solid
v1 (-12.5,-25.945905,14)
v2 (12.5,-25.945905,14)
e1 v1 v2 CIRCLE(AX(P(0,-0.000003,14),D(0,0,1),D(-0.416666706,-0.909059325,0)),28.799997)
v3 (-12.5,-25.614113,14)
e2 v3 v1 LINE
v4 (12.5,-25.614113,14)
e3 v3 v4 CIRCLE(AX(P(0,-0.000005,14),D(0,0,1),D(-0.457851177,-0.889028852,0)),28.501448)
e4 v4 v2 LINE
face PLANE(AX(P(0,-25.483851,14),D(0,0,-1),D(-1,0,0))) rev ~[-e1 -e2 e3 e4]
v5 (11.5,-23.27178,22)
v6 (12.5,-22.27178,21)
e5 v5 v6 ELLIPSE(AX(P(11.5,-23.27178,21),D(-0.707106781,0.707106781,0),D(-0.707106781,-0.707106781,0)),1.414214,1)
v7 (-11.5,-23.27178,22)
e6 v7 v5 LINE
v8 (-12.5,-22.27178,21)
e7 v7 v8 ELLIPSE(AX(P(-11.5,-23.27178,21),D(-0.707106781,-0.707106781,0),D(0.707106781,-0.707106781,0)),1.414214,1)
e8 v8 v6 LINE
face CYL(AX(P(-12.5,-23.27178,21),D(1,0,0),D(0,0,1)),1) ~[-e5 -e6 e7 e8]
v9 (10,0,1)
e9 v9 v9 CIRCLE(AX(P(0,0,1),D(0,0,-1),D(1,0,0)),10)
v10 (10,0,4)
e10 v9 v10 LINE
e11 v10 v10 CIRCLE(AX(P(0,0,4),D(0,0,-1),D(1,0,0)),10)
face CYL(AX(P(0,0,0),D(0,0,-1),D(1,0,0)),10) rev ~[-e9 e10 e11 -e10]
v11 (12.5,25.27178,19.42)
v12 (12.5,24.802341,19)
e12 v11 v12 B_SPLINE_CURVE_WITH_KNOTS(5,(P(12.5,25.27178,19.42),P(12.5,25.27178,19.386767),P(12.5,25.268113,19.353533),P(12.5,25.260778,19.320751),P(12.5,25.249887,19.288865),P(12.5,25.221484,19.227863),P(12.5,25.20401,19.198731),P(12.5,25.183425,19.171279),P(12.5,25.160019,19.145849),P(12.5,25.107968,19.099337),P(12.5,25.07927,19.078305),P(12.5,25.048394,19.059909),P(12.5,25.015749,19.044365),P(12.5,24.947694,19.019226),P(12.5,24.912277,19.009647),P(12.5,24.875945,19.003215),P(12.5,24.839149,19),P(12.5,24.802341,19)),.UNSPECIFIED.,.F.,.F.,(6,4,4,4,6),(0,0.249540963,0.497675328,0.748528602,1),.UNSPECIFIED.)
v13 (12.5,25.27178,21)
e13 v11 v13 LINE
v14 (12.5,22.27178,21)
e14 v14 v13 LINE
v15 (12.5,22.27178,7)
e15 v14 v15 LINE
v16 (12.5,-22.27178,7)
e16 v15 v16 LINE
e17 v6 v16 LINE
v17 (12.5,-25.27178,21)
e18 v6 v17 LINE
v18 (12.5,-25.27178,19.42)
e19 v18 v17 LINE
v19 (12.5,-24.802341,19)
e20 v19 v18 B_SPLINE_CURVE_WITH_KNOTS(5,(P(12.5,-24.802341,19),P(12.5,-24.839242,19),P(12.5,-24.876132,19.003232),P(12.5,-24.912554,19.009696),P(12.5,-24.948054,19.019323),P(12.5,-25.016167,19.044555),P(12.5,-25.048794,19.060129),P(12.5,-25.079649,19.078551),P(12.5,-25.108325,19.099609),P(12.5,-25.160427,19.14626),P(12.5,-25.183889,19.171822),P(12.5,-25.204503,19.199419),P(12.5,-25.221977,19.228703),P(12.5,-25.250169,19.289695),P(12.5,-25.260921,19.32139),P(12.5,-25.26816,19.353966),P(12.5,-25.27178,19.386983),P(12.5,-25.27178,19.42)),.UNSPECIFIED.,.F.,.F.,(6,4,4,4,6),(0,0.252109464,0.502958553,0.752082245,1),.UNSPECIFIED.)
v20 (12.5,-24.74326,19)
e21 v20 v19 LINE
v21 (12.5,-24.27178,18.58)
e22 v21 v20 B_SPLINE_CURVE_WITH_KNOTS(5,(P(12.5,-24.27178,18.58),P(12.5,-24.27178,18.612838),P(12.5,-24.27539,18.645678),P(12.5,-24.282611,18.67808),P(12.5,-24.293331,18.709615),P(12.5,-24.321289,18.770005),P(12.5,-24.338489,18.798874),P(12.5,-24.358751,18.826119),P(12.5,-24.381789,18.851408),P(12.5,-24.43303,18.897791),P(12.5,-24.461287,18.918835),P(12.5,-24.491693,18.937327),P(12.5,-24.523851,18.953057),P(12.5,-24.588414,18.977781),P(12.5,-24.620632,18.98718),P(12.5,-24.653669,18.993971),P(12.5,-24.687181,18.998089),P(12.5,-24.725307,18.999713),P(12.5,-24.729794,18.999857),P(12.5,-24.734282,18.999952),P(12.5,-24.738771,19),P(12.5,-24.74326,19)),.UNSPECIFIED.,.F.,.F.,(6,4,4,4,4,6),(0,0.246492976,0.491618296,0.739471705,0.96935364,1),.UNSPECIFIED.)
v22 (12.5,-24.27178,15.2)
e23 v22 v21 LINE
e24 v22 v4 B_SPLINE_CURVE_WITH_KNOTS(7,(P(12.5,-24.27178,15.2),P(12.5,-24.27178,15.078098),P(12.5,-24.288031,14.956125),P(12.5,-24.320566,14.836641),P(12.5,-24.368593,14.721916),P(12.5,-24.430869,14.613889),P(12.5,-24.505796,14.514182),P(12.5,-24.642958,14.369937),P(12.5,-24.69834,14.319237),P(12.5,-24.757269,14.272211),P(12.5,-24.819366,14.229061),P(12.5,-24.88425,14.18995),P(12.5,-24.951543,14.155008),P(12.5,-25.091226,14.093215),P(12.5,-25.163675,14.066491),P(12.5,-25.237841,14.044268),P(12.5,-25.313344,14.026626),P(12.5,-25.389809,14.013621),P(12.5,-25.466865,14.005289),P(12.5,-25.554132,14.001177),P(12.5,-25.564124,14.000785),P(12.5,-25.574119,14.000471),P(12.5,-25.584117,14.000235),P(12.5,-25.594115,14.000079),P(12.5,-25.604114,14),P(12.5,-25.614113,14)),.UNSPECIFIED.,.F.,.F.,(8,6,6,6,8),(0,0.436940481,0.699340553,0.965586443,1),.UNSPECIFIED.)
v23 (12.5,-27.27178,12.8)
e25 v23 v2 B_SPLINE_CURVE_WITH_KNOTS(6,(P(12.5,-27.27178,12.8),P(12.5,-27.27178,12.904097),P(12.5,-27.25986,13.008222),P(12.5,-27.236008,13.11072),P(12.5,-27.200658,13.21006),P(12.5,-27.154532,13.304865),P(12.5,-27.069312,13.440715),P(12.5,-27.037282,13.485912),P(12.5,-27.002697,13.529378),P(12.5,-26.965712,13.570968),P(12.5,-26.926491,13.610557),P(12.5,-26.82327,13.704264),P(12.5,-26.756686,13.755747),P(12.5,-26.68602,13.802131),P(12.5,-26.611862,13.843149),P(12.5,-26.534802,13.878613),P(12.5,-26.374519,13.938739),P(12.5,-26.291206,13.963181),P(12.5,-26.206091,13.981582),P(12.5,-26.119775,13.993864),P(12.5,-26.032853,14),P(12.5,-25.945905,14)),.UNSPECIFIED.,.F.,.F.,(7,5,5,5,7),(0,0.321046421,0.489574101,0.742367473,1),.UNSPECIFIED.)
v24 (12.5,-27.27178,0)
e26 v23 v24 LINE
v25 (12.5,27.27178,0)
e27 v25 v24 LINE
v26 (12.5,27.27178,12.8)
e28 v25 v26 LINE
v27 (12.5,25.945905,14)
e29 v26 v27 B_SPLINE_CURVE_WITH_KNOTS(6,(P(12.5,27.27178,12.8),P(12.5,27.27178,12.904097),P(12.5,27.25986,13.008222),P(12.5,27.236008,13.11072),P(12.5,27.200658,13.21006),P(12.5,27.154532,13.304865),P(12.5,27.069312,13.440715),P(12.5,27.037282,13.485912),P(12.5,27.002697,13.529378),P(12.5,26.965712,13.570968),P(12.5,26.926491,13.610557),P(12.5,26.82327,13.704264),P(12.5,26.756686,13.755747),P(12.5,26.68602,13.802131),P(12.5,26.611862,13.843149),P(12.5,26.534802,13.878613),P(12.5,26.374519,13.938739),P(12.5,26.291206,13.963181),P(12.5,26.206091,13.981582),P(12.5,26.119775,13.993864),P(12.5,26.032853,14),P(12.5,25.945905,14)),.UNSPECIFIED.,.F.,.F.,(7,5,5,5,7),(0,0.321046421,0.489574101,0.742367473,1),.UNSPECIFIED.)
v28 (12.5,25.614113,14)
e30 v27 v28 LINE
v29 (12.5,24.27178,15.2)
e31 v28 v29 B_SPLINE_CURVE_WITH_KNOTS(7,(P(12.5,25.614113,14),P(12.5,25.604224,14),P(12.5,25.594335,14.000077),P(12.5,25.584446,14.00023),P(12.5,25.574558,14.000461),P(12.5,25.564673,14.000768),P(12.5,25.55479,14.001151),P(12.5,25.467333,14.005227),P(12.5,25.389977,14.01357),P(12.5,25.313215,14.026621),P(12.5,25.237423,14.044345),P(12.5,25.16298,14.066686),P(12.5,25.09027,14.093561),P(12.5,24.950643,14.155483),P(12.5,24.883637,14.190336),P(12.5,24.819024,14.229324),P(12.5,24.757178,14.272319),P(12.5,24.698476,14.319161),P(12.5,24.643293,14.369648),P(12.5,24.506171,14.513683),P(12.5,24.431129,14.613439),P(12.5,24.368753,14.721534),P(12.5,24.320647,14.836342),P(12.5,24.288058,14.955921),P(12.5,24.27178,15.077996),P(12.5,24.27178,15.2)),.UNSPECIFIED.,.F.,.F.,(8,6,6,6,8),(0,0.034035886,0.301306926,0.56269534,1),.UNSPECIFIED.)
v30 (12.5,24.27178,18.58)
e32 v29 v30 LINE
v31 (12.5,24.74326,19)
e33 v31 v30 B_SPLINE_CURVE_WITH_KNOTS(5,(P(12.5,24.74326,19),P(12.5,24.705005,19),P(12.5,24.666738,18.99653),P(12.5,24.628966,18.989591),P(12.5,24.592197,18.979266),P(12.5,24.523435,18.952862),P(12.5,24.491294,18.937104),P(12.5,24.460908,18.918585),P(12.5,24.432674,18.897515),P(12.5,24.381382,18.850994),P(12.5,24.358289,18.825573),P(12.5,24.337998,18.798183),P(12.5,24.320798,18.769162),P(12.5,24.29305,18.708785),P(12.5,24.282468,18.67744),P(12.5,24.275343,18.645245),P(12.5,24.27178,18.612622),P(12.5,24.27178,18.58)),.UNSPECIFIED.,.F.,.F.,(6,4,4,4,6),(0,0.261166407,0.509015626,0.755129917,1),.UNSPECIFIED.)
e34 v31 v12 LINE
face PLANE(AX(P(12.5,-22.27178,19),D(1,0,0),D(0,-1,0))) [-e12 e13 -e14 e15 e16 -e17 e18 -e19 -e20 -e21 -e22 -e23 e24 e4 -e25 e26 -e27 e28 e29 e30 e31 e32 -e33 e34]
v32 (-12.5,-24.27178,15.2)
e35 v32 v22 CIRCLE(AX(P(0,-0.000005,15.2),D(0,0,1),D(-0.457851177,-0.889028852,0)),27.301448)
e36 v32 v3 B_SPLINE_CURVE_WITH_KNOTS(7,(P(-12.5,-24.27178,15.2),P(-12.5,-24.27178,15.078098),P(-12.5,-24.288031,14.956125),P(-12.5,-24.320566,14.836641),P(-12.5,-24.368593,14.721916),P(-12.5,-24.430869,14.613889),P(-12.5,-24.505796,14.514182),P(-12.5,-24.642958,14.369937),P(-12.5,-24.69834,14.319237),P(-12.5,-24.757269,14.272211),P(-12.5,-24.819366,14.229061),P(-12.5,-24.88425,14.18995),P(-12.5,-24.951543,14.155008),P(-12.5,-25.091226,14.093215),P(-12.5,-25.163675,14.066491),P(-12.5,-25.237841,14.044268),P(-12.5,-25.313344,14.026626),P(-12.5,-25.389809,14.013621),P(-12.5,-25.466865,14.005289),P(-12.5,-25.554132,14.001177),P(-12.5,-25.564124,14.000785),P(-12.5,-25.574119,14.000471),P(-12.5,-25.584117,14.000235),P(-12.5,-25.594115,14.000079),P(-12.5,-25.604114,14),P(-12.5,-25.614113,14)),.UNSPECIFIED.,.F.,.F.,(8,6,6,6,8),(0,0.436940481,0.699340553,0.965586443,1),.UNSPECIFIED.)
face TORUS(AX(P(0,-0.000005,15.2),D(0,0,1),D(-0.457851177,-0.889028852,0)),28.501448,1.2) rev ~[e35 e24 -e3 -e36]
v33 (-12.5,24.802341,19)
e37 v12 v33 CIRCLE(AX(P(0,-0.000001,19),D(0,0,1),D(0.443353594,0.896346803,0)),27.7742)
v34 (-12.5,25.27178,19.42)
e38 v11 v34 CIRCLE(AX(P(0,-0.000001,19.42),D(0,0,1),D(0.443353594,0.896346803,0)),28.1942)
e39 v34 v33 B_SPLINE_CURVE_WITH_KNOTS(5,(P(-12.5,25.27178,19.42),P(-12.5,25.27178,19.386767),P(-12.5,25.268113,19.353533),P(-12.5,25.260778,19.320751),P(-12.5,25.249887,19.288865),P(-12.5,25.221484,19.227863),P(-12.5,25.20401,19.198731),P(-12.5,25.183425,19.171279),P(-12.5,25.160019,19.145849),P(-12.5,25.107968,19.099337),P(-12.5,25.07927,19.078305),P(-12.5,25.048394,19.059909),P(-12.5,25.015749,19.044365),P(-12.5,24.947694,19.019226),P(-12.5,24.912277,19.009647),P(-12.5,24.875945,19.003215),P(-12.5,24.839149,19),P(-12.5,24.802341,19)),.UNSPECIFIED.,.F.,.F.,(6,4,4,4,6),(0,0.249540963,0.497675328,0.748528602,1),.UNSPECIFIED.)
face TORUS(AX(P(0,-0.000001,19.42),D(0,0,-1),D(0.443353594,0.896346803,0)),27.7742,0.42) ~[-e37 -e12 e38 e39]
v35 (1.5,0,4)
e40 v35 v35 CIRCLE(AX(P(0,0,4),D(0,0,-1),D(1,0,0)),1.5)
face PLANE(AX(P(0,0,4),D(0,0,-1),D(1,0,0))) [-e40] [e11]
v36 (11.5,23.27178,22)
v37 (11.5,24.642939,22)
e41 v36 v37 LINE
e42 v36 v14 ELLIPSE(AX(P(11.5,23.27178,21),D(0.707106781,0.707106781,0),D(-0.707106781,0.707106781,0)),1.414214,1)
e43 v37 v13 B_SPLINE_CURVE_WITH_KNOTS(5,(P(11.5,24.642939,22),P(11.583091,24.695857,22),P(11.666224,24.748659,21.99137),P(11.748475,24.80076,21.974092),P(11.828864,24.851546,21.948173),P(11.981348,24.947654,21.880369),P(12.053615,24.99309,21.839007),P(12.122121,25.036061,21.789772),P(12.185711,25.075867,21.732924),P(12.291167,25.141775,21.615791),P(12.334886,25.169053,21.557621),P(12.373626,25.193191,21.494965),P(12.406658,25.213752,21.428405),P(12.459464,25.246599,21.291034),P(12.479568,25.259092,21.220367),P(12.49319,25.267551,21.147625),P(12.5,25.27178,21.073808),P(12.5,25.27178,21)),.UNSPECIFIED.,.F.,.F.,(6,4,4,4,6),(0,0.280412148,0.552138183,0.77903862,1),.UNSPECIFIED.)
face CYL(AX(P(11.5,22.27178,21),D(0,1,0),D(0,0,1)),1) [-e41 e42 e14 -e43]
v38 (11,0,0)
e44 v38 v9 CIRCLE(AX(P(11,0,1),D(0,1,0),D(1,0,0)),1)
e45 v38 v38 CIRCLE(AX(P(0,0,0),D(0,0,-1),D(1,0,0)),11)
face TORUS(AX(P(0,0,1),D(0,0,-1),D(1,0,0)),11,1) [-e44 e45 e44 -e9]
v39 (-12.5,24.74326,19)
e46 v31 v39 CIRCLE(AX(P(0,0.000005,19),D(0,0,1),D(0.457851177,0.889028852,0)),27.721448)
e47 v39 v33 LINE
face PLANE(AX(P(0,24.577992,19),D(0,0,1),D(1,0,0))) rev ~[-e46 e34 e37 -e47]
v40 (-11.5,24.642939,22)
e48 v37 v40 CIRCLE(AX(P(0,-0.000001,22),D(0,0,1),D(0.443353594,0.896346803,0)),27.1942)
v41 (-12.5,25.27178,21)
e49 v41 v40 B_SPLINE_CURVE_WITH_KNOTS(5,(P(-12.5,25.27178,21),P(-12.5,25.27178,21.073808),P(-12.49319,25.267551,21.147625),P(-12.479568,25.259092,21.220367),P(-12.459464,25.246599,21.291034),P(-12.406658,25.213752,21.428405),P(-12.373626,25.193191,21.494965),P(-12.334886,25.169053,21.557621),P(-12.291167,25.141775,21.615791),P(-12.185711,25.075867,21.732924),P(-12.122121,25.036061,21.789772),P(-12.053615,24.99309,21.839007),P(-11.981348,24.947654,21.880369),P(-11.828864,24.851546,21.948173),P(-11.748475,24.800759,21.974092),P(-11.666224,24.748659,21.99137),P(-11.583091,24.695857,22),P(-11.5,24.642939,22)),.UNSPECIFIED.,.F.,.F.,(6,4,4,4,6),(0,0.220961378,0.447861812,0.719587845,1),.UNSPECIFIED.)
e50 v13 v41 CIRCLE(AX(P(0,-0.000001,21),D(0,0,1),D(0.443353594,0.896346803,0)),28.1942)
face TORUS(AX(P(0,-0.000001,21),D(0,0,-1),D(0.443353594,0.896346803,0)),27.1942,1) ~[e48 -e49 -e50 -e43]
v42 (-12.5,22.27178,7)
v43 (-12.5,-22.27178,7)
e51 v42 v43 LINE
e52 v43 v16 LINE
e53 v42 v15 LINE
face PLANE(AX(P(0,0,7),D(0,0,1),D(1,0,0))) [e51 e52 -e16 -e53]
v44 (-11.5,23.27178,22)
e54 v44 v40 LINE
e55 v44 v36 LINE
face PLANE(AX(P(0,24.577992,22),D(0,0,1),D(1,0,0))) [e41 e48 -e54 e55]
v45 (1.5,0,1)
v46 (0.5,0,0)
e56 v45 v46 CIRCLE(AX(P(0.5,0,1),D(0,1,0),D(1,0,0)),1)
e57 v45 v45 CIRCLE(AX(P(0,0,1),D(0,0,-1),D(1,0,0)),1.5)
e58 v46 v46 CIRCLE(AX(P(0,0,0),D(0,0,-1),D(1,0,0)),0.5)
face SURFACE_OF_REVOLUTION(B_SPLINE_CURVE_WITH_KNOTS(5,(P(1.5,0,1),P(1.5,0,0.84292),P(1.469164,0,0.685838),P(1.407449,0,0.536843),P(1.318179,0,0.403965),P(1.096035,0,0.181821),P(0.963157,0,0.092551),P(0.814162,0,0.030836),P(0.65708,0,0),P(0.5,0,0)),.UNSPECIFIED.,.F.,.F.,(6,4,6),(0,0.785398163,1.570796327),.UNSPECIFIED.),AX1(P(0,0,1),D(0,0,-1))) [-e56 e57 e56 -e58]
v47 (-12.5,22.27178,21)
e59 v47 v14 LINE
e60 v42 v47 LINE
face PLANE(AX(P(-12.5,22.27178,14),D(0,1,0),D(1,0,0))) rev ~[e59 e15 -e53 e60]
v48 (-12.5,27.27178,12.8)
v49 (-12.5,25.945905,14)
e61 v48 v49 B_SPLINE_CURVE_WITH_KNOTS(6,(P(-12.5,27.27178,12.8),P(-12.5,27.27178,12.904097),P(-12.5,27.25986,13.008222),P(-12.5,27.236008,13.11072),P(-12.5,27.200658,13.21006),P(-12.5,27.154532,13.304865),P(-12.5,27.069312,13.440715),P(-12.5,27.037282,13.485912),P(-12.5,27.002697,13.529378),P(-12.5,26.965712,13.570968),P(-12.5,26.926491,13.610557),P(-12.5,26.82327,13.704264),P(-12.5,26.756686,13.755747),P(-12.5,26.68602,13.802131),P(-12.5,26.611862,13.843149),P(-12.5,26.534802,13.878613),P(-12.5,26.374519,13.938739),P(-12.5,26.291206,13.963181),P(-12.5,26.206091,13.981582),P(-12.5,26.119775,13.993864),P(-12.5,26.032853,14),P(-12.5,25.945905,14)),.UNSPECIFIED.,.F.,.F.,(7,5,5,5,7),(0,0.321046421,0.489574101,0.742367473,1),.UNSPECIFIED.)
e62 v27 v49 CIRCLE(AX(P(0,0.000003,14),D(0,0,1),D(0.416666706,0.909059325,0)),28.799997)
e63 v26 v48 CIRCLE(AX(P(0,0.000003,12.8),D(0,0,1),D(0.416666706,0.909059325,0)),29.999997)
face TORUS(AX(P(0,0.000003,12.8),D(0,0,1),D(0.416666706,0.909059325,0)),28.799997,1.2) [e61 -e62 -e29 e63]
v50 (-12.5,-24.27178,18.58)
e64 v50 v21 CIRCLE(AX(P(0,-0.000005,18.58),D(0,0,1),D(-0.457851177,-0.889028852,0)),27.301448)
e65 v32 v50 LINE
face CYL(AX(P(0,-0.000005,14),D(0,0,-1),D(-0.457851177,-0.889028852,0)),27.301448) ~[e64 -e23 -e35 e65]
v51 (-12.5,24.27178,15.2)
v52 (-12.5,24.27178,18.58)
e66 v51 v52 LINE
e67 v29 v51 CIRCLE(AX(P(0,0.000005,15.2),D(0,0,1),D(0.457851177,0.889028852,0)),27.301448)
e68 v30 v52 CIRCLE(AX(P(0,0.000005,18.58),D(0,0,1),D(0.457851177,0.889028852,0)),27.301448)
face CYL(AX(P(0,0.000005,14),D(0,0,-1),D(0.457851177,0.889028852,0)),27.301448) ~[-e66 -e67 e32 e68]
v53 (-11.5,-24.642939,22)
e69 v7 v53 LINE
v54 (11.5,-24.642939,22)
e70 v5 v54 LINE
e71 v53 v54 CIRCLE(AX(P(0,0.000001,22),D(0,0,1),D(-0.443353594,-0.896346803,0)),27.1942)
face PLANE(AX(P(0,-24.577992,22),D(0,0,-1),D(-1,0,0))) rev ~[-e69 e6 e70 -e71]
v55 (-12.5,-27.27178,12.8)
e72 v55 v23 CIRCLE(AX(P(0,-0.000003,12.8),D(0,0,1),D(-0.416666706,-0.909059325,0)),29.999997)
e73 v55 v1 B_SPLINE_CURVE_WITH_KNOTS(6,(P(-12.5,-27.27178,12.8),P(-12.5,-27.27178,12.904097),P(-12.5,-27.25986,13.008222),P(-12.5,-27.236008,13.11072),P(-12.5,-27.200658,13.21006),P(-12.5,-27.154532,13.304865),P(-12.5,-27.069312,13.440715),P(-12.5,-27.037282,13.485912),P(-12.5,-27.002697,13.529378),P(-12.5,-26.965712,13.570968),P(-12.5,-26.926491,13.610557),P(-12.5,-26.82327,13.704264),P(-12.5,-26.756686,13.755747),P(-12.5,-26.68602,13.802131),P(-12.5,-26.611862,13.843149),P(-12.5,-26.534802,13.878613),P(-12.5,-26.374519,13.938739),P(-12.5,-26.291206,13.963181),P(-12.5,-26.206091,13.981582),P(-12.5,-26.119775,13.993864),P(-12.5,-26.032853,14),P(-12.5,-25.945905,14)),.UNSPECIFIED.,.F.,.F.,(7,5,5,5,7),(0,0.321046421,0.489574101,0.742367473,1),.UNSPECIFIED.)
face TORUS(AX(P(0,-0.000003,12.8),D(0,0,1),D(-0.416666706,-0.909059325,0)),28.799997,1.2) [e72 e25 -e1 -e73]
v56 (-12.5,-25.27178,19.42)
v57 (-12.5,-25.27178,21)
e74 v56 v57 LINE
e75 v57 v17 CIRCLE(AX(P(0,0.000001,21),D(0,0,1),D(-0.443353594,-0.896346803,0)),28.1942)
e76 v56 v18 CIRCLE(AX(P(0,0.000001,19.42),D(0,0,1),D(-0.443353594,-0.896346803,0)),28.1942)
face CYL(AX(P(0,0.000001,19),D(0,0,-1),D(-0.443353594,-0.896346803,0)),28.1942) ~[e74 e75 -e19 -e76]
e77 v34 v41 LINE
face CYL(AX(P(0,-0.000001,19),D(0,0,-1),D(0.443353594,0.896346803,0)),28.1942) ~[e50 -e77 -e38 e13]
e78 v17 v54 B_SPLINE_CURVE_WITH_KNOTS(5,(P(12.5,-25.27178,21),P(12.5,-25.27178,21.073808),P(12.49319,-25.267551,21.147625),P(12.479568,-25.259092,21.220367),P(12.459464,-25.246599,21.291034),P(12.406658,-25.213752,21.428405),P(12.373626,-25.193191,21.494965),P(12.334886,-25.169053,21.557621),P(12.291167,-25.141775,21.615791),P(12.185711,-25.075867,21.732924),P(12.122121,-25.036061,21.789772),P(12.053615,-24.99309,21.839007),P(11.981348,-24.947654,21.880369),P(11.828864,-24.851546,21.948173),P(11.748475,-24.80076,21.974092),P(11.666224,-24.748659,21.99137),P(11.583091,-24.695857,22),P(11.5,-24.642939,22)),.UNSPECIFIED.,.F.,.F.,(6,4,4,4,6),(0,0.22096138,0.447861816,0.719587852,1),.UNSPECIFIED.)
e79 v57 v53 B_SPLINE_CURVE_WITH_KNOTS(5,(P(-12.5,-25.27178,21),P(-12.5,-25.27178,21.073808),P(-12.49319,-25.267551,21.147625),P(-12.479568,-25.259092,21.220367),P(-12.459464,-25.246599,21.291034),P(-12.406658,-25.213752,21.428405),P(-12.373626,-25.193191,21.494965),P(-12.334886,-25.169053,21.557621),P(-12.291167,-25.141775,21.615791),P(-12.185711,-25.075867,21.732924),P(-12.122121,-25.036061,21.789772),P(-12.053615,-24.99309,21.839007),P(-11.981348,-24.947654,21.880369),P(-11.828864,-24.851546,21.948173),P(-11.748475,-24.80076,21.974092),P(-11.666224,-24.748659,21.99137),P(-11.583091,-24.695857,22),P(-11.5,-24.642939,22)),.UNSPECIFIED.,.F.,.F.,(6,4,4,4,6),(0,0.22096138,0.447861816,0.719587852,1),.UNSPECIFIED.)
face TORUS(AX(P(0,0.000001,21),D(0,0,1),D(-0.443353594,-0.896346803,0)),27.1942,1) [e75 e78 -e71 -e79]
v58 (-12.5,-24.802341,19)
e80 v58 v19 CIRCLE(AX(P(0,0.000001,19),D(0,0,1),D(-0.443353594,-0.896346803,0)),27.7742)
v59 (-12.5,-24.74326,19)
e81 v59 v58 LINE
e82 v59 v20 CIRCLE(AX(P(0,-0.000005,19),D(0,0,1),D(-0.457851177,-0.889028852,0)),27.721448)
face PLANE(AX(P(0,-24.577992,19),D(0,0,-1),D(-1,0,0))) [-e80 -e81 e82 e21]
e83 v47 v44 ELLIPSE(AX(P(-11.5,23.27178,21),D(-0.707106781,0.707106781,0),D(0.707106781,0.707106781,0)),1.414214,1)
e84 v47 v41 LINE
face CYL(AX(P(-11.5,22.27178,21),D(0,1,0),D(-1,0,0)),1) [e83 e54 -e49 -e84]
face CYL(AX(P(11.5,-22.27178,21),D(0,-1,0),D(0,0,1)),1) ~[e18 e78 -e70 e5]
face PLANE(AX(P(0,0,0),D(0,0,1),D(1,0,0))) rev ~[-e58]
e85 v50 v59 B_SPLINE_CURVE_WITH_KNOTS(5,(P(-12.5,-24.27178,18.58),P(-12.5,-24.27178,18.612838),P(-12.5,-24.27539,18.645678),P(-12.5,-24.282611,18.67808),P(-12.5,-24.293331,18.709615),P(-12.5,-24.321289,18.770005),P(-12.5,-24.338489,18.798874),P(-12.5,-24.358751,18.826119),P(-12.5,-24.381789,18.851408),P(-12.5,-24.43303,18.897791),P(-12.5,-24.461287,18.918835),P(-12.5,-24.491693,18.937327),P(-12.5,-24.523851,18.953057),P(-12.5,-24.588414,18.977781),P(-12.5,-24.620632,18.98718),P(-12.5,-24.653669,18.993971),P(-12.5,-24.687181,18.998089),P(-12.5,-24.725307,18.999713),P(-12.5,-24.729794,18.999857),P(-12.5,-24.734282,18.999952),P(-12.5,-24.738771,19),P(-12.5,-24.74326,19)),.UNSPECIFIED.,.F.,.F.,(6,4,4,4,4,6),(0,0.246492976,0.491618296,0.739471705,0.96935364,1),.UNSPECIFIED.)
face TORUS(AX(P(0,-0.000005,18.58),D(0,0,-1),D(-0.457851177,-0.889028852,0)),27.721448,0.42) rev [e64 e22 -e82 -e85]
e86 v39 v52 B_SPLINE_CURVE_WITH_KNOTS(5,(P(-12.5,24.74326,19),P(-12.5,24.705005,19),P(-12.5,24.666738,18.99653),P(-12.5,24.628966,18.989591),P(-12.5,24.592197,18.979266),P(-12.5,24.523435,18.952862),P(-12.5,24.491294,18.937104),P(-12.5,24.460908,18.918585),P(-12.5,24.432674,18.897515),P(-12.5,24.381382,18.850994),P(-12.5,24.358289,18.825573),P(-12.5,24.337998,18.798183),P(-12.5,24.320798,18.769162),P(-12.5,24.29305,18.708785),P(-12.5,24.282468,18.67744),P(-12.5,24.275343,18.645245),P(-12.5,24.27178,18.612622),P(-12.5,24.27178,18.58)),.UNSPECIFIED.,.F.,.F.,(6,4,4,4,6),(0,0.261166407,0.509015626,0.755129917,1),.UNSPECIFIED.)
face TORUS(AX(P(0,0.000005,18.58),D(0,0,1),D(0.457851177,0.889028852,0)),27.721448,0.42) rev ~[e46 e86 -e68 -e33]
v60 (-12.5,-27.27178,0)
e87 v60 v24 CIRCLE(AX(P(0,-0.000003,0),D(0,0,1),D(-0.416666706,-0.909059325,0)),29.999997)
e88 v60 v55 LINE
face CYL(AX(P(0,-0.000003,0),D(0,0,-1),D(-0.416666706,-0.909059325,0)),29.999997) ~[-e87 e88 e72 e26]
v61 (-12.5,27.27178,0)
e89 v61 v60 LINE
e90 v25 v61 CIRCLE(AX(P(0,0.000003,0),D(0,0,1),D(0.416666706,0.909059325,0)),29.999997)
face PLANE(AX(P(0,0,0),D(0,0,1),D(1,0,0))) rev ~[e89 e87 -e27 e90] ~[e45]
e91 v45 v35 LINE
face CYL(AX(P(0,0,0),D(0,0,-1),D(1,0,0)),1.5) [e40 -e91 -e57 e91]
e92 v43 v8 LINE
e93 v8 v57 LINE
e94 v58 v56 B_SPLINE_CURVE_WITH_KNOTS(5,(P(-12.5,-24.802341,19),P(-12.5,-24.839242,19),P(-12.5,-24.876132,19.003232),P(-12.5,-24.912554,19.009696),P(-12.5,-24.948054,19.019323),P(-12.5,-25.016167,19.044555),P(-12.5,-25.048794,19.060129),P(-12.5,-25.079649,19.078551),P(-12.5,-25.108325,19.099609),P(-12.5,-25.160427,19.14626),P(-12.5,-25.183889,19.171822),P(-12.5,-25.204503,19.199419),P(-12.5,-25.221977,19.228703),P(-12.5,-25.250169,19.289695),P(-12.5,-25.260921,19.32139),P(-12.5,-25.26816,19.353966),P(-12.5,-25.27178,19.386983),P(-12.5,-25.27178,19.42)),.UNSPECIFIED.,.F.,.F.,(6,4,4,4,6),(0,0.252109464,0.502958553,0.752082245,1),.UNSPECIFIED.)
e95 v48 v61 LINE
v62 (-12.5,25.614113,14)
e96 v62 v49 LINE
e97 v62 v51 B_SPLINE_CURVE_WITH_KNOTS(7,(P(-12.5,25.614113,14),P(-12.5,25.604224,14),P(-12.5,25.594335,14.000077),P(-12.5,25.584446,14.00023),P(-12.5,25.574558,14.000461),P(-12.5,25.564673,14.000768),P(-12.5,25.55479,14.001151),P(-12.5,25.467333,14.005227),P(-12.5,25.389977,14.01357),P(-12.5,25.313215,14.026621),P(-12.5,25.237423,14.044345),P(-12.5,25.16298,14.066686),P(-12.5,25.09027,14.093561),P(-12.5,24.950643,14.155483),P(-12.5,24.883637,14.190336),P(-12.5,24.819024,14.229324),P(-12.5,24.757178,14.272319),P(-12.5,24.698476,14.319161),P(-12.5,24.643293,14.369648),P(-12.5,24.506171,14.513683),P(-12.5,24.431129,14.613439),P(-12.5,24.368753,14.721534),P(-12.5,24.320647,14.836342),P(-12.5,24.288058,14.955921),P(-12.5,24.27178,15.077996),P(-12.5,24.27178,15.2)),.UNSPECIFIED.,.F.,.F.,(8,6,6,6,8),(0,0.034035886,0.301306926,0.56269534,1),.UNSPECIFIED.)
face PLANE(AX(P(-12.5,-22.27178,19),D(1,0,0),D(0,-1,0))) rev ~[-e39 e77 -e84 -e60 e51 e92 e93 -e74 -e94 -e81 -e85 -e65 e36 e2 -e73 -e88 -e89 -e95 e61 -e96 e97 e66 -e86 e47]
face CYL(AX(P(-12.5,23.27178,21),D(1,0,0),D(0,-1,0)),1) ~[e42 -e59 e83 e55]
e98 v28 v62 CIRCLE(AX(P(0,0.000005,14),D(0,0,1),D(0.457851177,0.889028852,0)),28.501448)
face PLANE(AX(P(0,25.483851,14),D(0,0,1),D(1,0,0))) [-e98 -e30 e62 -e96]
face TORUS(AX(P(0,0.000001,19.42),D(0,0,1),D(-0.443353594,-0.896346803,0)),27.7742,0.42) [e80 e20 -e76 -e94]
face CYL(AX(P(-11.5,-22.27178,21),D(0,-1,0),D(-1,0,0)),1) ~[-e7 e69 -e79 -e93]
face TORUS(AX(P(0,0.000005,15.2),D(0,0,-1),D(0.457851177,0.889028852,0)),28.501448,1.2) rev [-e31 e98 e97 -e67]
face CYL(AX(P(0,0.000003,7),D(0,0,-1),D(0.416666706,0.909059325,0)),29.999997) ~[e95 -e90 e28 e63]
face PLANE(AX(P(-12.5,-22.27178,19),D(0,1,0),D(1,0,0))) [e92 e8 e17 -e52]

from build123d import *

# Parameters (mm, degrees)
PAD_DEPTH     = 7
PAD001_DEPTH  = 7
PAD002_DEPTH  = 5
PAD003_DEPTH  = 3
SKETCH004_R   = 10
SKETCH004_R_2 = 1.5
POCKET_DEPTH  = 4
FILLET_R      = 1
FILLET001_R   = 1.2
FILLET002_R   = 0.42
FILLET003_R   = 1


with BuildPart() as part:
    # Sketch → Pad (new body)
    with BuildSketch(Plane.XY):
        with BuildLine():
            Line((-12.5, 27.27178), (-12.5, -27.27178))
            ThreePointArc((-12.5, -27.27178), (0, -30), (12.5, -27.27178))
            Line((12.5, 27.27178), (12.5, -27.27178))
            ThreePointArc((12.5, 27.27178), (0, 30), (-12.5, 27.27178))
        make_face()
    extrude(amount=PAD_DEPTH)

    # Sketch001 (on Face6 of Pad) → Pad001 (join)
    with BuildSketch(Plane.XY.offset(7)):
        with BuildLine():
            Line((-12.5, 22.27178), (12.5, 22.27178))
            Line((12.5, 27.27178), (12.5, 22.27178))
            ThreePointArc((12.5, 27.27178), (0, 30), (-12.5, 27.27178))
            Line((-12.5, 22.27178), (-12.5, 27.27178))
        make_face()
        with BuildLine():
            Line((-12.5, -22.27178), (12.5, -22.27178))
            Line((12.5, -22.27178), (12.5, -27.27178))
            ThreePointArc((-12.5, -27.27178), (0, -30), (12.5, -27.27178))
            Line((-12.5, -22.27178), (-12.5, -27.27178))
        make_face()
    extrude(amount=PAD001_DEPTH)

    # Sketch002 (on Face12 of Pad001) → Pad002 (join)
    with BuildSketch(Plane.XY.offset(14)):
        with BuildLine():
            Line((-12.5, 22.27178), (12.5, 22.27178))
            Line((12.5, 24.27178), (12.5, 22.27178))
            ThreePointArc((12.5, 24.27178), (0, 27.301453), (-12.5, 24.27178))
            Line((-12.5, 24.27178), (-12.5, 22.27178))
        make_face()
        with BuildLine():
            Line((-12.5, -22.27178), (12.5, -22.27178))
            Line((12.5, -22.27178), (12.5, -24.27178))
            ThreePointArc((-12.5, -24.27178), (0, -27.301453), (12.5, -24.27178))
            Line((-12.5, -22.27178), (-12.5, -24.27178))
        make_face()
    extrude(amount=PAD002_DEPTH)

    # Sketch003 (on Face23 of Pad002) → Pad003 (join)
    with BuildSketch(Plane.XY.offset(19)):
        with BuildLine():
            Line((-12.5, -22.27178), (12.5, -22.27178))
            Line((12.5, -22.27178), (12.5, -25.27178))
            ThreePointArc((-12.5, -25.27178), (0, -28.194199), (12.5, -25.27178))
            Line((-12.5, -22.27178), (-12.5, -25.27178))
        make_face()
        with BuildLine():
            Line((-12.5, 22.27178), (12.5, 22.27178))
            Line((12.5, 22.27178), (12.5, 25.27178))
            ThreePointArc((12.5, 25.27178), (0, 28.194199), (-12.5, 25.27178))
            Line((-12.5, 22.27178), (-12.5, 25.27178))
        make_face()
    extrude(amount=PAD003_DEPTH)

    # Sketch004 (on Face4 of Pad003) → Pocket (cut)
    with BuildSketch(Plane(origin=(0, 0, 0), x_dir=(1, 0, 0), z_dir=(0, 0, -1))):
        Circle(SKETCH004_R)
        Circle(SKETCH004_R_2, mode=Mode.SUBTRACT)
    extrude(amount=-POCKET_DEPTH, mode=Mode.SUBTRACT)

    # Fillet
    fillet_edges = [part.edges().sort_by_distance(p)[0] for p in [
        (-1.5, 0, 0),
        (-10, 0, 0),
    ]]
    fillet(fillet_edges, radius=FILLET_R)

    # Fillet001
    fillet001_edges = [part.edges().sort_by_distance(p)[0] for p in [
        (0, 27.301453, 14),
        (0, 30, 14),
        (0, -27.301453, 14),
        (0, -30, 14),
    ]]
    fillet(fillet001_edges, radius=FILLET001_R)

    # Fillet002
    fillet002_edges = [part.edges().sort_by_distance(p)[0] for p in [
        (0, -27.301453, 19),
        (0, -28.194199, 19),
        (0, 27.301453, 19),
        (0, 28.194199, 19),
    ]]
    fillet(fillet002_edges, radius=FILLET002_R)

    # Fillet003
    fillet003_edges = [part.edges().sort_by_distance(p)[0] for p in [
        (0, -28.194199, 22),
        (12.5, -23.77178, 22),
        (0, -22.27178, 22),
        (-12.5, -23.77178, 22),
        (-12.5, 23.77178, 22),
        (0, 28.194199, 22),
        (12.5, 23.77178, 22),
        (0, 22.27178, 22),
    ]]
    fillet(fillet003_edges, radius=FILLET003_R)


solid = part.part
